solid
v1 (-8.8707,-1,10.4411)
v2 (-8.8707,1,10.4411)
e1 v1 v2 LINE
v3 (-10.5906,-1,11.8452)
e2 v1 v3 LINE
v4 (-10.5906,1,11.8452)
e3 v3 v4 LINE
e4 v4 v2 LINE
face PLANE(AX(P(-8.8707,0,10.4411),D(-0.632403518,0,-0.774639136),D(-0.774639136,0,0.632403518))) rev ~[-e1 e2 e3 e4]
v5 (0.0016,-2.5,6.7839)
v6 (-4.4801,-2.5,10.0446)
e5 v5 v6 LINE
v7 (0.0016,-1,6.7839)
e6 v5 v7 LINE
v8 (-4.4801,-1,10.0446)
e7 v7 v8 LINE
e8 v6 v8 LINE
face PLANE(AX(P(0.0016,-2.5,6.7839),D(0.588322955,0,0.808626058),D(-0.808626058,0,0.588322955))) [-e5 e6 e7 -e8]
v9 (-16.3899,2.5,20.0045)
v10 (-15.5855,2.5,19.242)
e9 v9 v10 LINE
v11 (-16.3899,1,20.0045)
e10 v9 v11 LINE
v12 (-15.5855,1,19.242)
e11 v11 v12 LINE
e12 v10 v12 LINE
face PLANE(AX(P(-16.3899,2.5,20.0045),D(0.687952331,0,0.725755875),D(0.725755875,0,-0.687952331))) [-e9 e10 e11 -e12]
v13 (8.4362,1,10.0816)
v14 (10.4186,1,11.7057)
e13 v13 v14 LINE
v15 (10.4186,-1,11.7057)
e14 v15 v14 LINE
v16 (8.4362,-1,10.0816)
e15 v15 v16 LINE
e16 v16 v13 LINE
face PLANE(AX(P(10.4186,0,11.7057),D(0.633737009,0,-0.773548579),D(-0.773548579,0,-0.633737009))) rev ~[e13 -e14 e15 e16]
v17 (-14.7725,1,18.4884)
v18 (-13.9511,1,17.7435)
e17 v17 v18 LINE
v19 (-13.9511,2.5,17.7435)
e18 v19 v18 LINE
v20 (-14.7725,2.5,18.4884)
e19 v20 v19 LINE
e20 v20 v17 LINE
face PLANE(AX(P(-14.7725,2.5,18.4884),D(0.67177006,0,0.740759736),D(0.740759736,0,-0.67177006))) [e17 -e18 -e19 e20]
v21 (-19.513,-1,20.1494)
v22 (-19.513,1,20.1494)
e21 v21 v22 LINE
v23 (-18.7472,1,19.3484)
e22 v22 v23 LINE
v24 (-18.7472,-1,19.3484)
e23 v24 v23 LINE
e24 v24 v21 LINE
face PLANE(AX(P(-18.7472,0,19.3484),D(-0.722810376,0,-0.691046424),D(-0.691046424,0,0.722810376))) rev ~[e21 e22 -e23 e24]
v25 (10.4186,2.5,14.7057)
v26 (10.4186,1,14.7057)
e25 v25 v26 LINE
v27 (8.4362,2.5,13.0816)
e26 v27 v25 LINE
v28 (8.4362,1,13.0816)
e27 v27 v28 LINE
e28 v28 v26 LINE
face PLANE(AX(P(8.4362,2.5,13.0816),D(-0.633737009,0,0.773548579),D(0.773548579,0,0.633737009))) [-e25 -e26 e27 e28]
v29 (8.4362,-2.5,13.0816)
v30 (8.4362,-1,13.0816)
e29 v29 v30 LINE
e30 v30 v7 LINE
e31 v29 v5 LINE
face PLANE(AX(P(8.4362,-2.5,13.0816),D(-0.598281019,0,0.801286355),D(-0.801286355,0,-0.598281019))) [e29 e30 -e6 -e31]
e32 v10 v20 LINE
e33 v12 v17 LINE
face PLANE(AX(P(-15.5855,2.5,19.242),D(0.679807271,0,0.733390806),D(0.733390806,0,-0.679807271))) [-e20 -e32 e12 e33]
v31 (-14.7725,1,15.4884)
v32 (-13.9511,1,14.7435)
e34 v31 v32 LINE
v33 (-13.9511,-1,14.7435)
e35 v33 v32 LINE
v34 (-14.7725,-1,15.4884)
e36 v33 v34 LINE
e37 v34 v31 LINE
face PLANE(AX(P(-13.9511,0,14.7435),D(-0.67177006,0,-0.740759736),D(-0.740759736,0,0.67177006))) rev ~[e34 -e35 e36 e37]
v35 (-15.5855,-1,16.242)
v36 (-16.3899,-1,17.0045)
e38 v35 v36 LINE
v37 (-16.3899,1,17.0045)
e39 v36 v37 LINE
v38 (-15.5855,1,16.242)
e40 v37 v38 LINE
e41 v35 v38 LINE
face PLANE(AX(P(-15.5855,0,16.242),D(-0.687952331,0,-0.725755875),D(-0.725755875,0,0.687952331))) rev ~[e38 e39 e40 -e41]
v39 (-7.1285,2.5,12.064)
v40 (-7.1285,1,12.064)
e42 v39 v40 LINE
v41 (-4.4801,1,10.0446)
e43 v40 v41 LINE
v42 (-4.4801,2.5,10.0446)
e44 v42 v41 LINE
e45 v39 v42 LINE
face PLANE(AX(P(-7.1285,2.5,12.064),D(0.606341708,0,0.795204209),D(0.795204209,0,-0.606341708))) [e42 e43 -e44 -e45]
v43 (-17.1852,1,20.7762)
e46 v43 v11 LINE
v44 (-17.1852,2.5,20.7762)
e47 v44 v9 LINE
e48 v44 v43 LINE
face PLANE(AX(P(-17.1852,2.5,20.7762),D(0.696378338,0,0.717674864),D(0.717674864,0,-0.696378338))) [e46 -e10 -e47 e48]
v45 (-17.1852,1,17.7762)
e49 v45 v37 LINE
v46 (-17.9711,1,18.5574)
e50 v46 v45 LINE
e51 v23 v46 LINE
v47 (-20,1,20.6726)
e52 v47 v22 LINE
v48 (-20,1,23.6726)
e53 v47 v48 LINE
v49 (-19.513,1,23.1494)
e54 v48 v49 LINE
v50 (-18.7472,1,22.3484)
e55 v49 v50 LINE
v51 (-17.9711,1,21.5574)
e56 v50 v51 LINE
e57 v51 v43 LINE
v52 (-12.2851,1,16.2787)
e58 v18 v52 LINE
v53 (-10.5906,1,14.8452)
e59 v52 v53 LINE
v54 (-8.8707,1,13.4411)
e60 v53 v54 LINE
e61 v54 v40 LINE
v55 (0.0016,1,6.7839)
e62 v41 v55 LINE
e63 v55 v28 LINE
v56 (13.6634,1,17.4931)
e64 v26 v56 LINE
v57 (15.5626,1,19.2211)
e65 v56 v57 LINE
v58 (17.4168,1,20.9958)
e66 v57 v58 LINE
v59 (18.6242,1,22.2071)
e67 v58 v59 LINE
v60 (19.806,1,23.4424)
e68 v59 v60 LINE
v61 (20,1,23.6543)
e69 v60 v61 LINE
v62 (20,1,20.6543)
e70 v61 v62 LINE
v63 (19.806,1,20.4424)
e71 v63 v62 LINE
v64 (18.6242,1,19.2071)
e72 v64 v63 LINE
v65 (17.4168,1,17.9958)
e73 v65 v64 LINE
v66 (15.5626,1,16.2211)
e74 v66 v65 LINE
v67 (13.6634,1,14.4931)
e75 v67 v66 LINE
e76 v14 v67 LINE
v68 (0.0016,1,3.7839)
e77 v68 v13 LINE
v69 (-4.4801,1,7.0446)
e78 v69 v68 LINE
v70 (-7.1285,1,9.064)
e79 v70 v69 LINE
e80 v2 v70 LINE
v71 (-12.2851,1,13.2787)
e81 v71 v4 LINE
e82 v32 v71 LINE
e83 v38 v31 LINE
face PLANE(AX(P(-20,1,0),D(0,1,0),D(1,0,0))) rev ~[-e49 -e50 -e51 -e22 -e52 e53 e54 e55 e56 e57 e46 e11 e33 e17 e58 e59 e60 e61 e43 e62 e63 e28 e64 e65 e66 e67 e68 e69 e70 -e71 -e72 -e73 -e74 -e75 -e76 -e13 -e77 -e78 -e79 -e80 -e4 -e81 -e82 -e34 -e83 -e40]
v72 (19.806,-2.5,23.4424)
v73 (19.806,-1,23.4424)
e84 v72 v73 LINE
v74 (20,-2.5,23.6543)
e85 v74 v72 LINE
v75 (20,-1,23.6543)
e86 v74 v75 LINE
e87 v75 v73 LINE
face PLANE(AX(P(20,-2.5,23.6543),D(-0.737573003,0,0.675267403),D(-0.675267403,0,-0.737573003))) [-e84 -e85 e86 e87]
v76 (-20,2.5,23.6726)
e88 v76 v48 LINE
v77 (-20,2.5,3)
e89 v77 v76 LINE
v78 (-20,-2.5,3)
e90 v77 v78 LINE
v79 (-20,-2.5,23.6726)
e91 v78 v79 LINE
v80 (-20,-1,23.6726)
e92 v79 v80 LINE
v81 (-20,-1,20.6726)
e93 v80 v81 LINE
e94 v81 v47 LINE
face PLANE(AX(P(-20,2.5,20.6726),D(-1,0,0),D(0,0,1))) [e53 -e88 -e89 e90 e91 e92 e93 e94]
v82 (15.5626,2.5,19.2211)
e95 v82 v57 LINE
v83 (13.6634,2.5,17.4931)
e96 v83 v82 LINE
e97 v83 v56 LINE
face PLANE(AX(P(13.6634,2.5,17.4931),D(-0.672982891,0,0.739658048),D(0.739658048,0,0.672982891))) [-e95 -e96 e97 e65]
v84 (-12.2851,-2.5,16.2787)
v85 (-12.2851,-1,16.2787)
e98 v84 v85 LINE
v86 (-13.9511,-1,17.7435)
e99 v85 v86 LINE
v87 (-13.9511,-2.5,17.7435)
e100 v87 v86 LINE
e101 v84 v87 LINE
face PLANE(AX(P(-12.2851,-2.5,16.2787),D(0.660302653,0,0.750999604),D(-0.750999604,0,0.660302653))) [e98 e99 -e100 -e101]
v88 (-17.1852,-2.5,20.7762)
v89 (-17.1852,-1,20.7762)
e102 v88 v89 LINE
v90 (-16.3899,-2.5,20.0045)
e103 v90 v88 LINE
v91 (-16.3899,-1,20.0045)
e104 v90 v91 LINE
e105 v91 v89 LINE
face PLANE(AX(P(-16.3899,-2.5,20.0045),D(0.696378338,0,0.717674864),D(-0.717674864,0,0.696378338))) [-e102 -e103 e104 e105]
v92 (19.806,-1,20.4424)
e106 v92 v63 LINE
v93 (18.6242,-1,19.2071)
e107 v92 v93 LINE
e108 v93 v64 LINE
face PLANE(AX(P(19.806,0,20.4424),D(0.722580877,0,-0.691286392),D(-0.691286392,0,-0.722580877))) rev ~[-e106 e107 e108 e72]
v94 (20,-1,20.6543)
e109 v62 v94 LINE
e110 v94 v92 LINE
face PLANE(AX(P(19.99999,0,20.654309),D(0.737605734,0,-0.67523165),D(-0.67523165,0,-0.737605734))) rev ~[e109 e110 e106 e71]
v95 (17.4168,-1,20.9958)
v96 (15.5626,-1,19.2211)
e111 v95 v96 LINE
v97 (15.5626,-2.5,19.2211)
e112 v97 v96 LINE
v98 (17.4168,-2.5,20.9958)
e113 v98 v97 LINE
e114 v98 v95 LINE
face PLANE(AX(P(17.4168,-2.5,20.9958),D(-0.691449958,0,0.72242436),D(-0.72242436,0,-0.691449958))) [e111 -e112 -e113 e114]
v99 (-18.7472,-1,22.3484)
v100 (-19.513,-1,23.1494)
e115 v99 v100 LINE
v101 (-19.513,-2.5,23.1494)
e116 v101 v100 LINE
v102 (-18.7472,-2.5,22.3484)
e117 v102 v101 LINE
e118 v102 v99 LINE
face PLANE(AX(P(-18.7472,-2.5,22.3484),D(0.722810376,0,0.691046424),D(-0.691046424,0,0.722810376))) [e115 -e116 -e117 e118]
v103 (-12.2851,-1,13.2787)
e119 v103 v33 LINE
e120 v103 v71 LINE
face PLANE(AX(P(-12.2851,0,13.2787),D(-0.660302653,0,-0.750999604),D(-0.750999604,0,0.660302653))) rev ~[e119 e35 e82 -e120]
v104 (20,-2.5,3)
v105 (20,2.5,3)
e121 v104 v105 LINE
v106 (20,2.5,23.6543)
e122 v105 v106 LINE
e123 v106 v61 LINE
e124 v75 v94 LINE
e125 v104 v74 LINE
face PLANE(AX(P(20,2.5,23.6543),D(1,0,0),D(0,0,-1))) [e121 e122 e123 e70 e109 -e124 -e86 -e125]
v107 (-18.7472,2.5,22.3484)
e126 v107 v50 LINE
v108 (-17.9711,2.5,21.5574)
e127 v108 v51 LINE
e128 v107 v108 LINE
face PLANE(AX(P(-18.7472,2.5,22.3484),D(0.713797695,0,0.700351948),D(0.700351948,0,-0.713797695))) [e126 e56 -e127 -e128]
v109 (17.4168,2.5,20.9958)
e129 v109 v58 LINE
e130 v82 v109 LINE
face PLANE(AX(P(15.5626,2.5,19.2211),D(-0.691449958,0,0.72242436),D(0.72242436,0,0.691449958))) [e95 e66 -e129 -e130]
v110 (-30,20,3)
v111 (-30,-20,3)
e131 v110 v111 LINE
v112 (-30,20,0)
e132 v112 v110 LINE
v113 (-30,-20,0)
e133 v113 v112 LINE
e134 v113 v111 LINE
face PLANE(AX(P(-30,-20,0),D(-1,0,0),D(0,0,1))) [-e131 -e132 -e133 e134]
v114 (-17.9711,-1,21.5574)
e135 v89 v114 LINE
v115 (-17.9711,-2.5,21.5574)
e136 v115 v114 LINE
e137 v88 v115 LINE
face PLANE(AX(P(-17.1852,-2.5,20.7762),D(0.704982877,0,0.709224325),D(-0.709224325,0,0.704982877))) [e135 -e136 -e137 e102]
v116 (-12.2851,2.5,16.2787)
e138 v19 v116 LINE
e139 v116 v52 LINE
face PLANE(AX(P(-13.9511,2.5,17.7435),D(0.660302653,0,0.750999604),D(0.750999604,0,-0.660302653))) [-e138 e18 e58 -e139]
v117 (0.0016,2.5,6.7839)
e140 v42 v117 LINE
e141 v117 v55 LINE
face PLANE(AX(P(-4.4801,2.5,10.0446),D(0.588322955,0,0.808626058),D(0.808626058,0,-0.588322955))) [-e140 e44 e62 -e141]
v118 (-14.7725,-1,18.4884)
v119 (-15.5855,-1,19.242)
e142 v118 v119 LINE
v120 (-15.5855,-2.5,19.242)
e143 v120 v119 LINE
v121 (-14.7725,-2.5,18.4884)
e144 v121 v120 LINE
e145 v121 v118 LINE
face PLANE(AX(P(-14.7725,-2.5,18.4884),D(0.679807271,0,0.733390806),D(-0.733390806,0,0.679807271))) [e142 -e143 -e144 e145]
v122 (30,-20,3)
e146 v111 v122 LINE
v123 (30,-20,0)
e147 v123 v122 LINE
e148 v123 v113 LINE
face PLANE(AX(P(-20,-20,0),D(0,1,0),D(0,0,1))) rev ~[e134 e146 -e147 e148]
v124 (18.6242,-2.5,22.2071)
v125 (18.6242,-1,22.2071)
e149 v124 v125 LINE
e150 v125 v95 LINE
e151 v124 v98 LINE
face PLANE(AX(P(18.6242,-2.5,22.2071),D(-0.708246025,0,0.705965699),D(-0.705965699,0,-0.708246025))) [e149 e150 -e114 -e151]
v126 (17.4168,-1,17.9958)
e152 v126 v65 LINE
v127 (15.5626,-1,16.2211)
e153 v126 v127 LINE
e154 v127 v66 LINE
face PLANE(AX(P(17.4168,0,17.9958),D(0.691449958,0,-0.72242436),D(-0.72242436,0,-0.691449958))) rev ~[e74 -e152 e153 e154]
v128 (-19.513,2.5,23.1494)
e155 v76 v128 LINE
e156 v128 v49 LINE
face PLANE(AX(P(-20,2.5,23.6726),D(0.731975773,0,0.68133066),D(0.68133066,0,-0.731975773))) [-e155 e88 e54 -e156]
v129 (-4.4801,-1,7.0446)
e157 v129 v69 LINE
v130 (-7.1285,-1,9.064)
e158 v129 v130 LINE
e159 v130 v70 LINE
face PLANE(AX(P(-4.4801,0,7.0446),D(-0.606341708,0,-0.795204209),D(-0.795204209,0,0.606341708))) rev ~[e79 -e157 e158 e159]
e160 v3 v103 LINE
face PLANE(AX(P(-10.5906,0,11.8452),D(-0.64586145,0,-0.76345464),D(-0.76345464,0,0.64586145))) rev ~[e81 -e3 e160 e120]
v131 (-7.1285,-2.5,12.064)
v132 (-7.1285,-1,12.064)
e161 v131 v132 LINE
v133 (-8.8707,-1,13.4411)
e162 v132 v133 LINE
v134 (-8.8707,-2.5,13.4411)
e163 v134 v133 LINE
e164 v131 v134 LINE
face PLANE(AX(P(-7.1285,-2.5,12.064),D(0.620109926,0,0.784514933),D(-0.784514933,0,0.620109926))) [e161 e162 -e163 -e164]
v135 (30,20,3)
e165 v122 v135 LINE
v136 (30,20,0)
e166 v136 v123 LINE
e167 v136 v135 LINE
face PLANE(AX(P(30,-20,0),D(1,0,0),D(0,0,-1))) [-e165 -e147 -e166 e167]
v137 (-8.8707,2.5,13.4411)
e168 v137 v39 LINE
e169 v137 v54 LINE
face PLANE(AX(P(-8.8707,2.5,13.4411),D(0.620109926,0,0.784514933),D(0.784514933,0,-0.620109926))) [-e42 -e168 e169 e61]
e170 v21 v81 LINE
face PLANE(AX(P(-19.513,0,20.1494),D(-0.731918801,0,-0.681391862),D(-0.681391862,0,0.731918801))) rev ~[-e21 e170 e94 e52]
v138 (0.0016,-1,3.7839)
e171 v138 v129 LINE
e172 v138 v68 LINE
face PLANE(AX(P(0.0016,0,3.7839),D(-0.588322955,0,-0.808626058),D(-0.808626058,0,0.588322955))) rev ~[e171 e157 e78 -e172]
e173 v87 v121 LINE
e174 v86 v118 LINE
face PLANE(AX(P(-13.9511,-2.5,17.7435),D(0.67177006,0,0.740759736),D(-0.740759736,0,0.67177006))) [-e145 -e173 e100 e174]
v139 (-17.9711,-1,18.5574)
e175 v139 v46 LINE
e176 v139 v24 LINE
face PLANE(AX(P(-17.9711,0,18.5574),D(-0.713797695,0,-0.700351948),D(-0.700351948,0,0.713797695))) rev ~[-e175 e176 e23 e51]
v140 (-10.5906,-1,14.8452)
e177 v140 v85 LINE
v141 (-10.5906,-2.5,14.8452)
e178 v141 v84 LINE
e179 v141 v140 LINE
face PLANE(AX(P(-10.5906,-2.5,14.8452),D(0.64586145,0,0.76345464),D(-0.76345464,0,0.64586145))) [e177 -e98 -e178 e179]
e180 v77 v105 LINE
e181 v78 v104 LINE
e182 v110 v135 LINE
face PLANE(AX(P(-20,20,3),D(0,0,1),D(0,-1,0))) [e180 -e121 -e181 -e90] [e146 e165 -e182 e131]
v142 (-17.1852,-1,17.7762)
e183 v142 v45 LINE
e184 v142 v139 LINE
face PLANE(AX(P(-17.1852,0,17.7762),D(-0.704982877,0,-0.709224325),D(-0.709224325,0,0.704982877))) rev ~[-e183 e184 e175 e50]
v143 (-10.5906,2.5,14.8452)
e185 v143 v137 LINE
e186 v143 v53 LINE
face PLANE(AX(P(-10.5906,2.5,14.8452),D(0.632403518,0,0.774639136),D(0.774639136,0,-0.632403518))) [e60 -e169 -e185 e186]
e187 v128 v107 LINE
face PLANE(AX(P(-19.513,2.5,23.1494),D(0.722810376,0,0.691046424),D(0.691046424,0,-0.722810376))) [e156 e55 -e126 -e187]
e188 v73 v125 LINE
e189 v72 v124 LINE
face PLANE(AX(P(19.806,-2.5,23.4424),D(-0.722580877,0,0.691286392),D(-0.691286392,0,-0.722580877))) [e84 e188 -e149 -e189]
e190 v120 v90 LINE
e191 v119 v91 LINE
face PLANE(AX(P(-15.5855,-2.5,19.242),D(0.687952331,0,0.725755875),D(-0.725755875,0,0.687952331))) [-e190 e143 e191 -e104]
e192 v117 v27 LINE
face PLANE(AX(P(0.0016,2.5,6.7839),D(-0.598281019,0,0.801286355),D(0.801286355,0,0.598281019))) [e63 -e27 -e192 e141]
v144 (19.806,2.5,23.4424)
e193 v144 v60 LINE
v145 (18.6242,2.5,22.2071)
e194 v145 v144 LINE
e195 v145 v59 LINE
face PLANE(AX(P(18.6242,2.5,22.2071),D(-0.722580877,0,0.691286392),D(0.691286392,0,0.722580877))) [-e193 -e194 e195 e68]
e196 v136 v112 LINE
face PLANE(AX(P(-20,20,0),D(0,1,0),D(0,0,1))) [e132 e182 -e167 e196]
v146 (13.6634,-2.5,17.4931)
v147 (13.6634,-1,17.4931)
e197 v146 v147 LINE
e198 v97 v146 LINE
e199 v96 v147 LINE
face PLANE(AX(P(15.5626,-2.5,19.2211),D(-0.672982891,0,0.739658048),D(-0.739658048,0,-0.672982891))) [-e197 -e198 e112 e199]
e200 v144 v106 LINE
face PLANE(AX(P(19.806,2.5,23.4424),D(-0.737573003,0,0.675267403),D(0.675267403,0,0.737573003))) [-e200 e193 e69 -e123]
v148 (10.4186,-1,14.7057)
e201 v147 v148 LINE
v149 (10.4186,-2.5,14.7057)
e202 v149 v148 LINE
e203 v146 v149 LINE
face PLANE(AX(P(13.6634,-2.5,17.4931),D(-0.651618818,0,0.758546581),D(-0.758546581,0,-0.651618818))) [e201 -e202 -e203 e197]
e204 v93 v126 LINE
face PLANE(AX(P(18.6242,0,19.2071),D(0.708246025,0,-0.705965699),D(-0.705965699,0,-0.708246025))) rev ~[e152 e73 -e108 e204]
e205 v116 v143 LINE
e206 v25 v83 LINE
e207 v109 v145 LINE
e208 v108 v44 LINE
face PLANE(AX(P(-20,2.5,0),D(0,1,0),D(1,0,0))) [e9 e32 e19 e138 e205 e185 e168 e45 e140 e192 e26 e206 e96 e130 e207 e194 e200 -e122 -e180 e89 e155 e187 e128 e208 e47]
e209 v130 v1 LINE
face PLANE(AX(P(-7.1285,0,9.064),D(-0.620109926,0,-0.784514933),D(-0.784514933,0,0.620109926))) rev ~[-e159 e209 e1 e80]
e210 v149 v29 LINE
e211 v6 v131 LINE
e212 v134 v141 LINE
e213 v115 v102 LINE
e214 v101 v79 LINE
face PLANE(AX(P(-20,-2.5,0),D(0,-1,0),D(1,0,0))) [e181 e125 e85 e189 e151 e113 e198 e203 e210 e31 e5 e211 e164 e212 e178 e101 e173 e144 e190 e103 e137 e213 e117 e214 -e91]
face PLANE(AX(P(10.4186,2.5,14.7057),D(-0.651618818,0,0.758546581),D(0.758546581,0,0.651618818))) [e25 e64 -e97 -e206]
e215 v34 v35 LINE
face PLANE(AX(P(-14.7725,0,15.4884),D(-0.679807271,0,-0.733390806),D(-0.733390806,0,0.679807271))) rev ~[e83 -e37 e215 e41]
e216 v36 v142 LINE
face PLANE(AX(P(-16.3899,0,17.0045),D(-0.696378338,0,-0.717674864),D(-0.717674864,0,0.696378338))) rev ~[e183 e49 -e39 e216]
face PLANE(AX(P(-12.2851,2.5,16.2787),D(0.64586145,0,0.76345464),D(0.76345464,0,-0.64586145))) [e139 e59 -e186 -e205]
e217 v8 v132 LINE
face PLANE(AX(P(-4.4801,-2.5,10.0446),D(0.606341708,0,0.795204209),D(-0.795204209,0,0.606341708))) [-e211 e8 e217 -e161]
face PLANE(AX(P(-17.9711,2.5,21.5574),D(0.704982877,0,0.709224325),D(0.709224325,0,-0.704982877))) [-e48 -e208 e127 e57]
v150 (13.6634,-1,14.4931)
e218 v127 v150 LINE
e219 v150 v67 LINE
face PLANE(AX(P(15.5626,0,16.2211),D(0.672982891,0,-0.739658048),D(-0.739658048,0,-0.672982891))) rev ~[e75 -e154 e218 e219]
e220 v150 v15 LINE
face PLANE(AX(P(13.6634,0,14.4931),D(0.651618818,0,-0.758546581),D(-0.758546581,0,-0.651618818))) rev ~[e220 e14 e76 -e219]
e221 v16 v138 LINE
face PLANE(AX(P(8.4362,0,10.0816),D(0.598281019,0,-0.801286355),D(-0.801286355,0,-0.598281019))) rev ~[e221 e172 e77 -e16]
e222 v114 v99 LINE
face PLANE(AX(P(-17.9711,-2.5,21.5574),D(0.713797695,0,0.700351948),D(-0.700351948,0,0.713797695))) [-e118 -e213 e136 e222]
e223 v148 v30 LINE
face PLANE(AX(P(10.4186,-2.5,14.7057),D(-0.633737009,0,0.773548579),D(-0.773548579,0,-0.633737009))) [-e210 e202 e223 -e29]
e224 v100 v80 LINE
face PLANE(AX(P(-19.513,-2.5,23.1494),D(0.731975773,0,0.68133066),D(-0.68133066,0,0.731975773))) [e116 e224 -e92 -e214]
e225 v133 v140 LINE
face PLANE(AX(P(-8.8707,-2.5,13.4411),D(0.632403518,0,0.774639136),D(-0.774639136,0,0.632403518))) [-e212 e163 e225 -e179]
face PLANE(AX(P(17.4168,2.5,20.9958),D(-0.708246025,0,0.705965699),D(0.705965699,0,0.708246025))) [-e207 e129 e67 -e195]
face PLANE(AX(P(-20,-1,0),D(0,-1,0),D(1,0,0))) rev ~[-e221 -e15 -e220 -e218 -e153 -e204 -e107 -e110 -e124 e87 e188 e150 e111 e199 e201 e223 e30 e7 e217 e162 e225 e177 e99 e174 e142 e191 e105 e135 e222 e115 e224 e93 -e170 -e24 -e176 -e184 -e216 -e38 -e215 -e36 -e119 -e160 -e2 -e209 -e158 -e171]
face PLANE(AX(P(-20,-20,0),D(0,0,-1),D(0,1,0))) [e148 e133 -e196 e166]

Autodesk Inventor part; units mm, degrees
ref_plane "YZ Plane" through (0, 0, 0) normal (1, 0, 0) x (0, 1, 0)
ref_plane "XZ Plane" through (0, 0, 0) normal (0, 1, 0) x (-1, 0, 0)
ref_plane "XY Plane" through (0, 0, 0) normal (0, 0, 1) x (1, 0, 0)
sketch "Sketch1" plane through (0, 0, 0) normal (0, 0, 1) x (1, 0, 0)
  line L0 (-20, -20) -> (20, -20)
  line L1 (20, -20) -> (20, 20)
  line L2 (20, 20) -> (-20, 20)
  line L3 (-20, 20) -> (-20, -20)
  line L4 (-20, -20) -> (20, 20) construction
  line L5 (20, -20) -> (-20, 20) construction
  point P0 (0, 0)
  dimension "d0" = 40
  dimension "d1" = 40
extrude "Extrusion1" add sketch "Sketch1" along normal blind 3
ref_plane "Work Plane1" through (-20, 0, 0) normal (0, -1, 0) x (1, 0, 0)
sketch "Sketch2" plane through (-20, 0, 0) normal (0, -1, 0) x (1, 0, 0)
  line L0 (0, 3) -> (40, 3)
  line L1 (0, 3) -> (40, 3) projected
  line L2 (2.7399, 64.6358) -> (3.1064, 64.6633)
  line L3 (3.1064, 64.6633) -> (5.3254, 64.7366)
  line L4 (5.3254, 64.7366) -> (6.8098, 64.6805)
  line L5 (6.8098, 64.6805) -> (7.9171, 64.5726)
  line L6 (7.9171, 64.5726) -> (9.0137, 64.4014)
  line L7 (9.0137, 64.4014) -> (9.7363, 64.2487)
  line L8 (9.7363, 64.2487) -> (10.4503, 64.0633)
  line L9 (10.4503, 64.0633) -> (11.1543, 63.8429)
  line L10 (11.1543, 63.8429) -> (11.8466, 63.5859)
  line L11 (11.8466, 63.5859) -> (12.5259, 63.2902)
  line L12 (12.5259, 63.2902) -> (13.1906, 62.9542)
  line L13 (13.1906, 62.9542) -> (13.4715, 62.803)
  line L14 (13.4715, 62.803) -> (14.2878, 62.3129)
  line L15 (14.2878, 62.3129) -> (15.32, 61.5828)
  line L16 (15.32, 61.5828) -> (16.5315, 60.5677)
  line L17 (16.5315, 60.5677) -> (20.0008, 56.8714)
  line L18 (20.0008, 56.8714) -> (23.8357, 60.8912)
  line L19 (23.8357, 60.8912) -> (25.2129, 61.9747)
  line L20 (25.2129, 61.9747) -> (26.196, 62.6151)
  line L21 (26.196, 62.6151) -> (26.5392, 62.8162)
  line L22 (26.5392, 62.8162) -> (26.8872, 63.0056)
  line L23 (26.8872, 63.0056) -> (27.2398, 63.1837)
  line L24 (27.2398, 63.1837) -> (27.5967, 63.3505)
  line L25 (27.5967, 63.3505) -> (27.9576, 63.5065)
  line L26 (27.9576, 63.5065) -> (28.6909, 63.787)
  line L27 (28.6909, 63.787) -> (29.4377, 64.0268)
  line L28 (29.4377, 64.0268) -> (30.1962, 64.2283)
  line L29 (30.1962, 64.2283) -> (30.9647, 64.3931)
  line L30 (30.9647, 64.3931) -> (31.7412, 64.5234)
  line L31 (31.7412, 64.5234) -> (32.5239, 64.6211)
  line L32 (32.5239, 64.6211) -> (33.7056, 64.711)
  line L33 (33.7056, 64.711) -> (35.2857, 64.7355)
  line L34 (35.2857, 64.7355) -> (37.2476, 64.6353)
  line L35 (37.2476, 64.6353) -> (37.63, 64.5998)
  line L36 (37.63, 64.5998) -> (38.0105, 64.5528)
  line L37 (38.0105, 64.5528) -> (38.3888, 64.4946)
  line L38 (38.3888, 64.4946) -> (39.1384, 64.3456)
  line L39 (39.1384, 64.3456) -> (39.8773, 64.1541)
  line L40 (39.8773, 64.1541) -> (40.6042, 63.922)
  line L41 (40.6042, 63.922) -> (41.3175, 63.6507)
  line L42 (41.3175, 63.6507) -> (42.016, 63.342)
  line L43 (42.016, 63.342) -> (42.6982, 62.9974)
  line L44 (42.6982, 62.9974) -> (43.3626, 62.6184)
  line L45 (43.3626, 62.6184) -> (44.0079, 62.2069)
  line L46 (44.0079, 62.2069) -> (44.6325, 61.7642)
  line L47 (44.6325, 61.7642) -> (45.2352, 61.2922)
  line L48 (45.2352, 61.2922) -> (45.8145, 60.7922)
  line L49 (45.8145, 60.7922) -> (46.3689, 60.2662)
  line L50 (46.3689, 60.2662) -> (46.8971, 59.7155)
  line L51 (46.8971, 59.7155) -> (47.2127, 59.3682)
  line L52 (47.2127, 59.3682) -> (47.5175, 59.0127)
  line L53 (47.5175, 59.0127) -> (47.8117, 58.6495)
  line L54 (47.8117, 58.6495) -> (48.0953, 58.2789)
  line L55 (48.0953, 58.2789) -> (48.3683, 57.901)
  line L56 (48.3683, 57.901) -> (48.631, 57.5163)
  line L57 (48.631, 57.5163) -> (48.8832, 57.1249)
  line L58 (48.8832, 57.1249) -> (49.1252, 56.7273)
  line L59 (49.1252, 56.7273) -> (49.3571, 56.3236)
  line L60 (49.3571, 56.3236) -> (49.5788, 55.9142)
  line L61 (49.5788, 55.9142) -> (49.7904, 55.4993)
  line L62 (49.7904, 55.4993) -> (50.1842, 54.6545)
  line L63 (50.1842, 54.6545) -> (50.5388, 53.7914)
  line L64 (50.5388, 53.7914) -> (50.8551, 52.9125)
  line L65 (50.8551, 52.9125) -> (51.1337, 52.02)
  line L66 (51.1337, 52.02) -> (51.3753, 51.1164)
  line L67 (51.3753, 51.1164) -> (51.5805, 50.2039)
  line L68 (51.5805, 50.2039) -> (51.75, 49.285)
  line L69 (51.75, 49.285) -> (51.8844, 48.3619)
  line L70 (51.8844, 48.3619) -> (51.9845, 47.437)
  line L71 (51.9845, 47.437) -> (51.9845, 43.3851)
  line L72 (51.9845, 43.3851) -> (51.9243, 42.8006)
  line L73 (51.9243, 42.8006) -> (51.8499, 42.2155)
  line L74 (51.8499, 42.2155) -> (51.7619, 41.6333)
  line L75 (51.7619, 41.6333) -> (51.6607, 41.054)
  line L76 (51.6607, 41.054) -> (51.5466, 40.4777)
  line L77 (51.5466, 40.4777) -> (51.4199, 39.9045)
  line L78 (51.4199, 39.9045) -> (51.2809, 39.3344)
  line L79 (51.2809, 39.3344) -> (51.13, 38.7676)
  line L80 (51.13, 38.7676) -> (50.9673, 38.204)
  line L81 (50.9673, 38.204) -> (50.7934, 37.6437)
  line L82 (50.7934, 37.6437) -> (50.6084, 37.0868)
  line L83 (50.6084, 37.0868) -> (50.2065, 35.9835)
  line L84 (50.2065, 35.9835) -> (49.7643, 34.8947)
  line L85 (49.7643, 34.8947) -> (49.2842, 33.8209)
  line L86 (49.2842, 33.8209) -> (48.7687, 32.7625)
  line L87 (48.7687, 32.7625) -> (48.2203, 31.7202)
  line L88 (48.2203, 31.7202) -> (47.6416, 30.6945)
  line L89 (47.6416, 30.6945) -> (46.7221, 29.1882)
  line L90 (46.7221, 29.1882) -> (45.7483, 27.7223)
  line L91 (45.7483, 27.7223) -> (45.2527, 27.0233)
  line L92 (45.2527, 27.0233) -> (44.7473, 26.3323)
  line L93 (44.7473, 26.3323) -> (44.2325, 25.649)
  line L94 (44.2325, 25.649) -> (43.7084, 24.9733)
  line L95 (43.7084, 24.9733) -> (43.1754, 24.305)
  line L96 (43.1754, 24.305) -> (42.0839, 22.9901)
  line L97 (42.0839, 22.9901) -> (40.96, 21.703)
  line L98 (40.96, 21.703) -> (39.806, 20.4424)
  line L99 (39.806, 20.4424) -> (38.6242, 19.2071)
  line L100 (38.6242, 19.2071) -> (37.4168, 17.9958)
  line L101 (37.4168, 17.9958) -> (35.5626, 16.2211)
  line L102 (35.5626, 16.2211) -> (33.6634, 14.4931)
  line L103 (33.6634, 14.4931) -> (30.4186, 11.7057)
  line L104 (30.4186, 11.7057) -> (28.4362, 10.0816)
  line L105 (28.4362, 10.0816) -> (20.0016, 3.7839)
  line L106 (20.0016, 3.7839) -> (15.5199, 7.0446)
  line L107 (15.5199, 7.0446) -> (12.8715, 9.064)
  line L108 (12.8715, 9.064) -> (11.1293, 10.4411)
  line L109 (11.1293, 10.4411) -> (9.4094, 11.8452)
  line L110 (9.4094, 11.8452) -> (7.7149, 13.2787)
  line L111 (7.7149, 13.2787) -> (6.0489, 14.7435)
  line L112 (6.0489, 14.7435) -> (5.2275, 15.4884)
  line L113 (5.2275, 15.4884) -> (4.4145, 16.242)
  line L114 (4.4145, 16.242) -> (3.6101, 17.0045)
  line L115 (3.6101, 17.0045) -> (2.8148, 17.7762)
  line L116 (2.8148, 17.7762) -> (2.0289, 18.5574)
  line L117 (2.0289, 18.5574) -> (1.2528, 19.3484)
  line L118 (1.2528, 19.3484) -> (0.487, 20.1494)
  line L119 (0.487, 20.1494) -> (-0.2682, 20.9606)
  line L120 (-0.2682, 20.9606) -> (-1.0124, 21.7824)
  line L121 (-1.0124, 21.7824) -> (-1.7452, 22.6151)
  line L122 (-1.7452, 22.6151) -> (-2.4663, 23.4588)
  line L123 (-2.4663, 23.4588) -> (-3.1752, 24.3139)
  line L124 (-3.1752, 24.3139) -> (-3.8715, 25.1807)
  line L125 (-3.8715, 25.1807) -> (-4.7177, 26.2914)
  line L126 (-4.7177, 26.2914) -> (-5.5375, 27.4273)
  line L127 (-5.5375, 27.4273) -> (-6.3273, 28.5876)
  line L128 (-6.3273, 28.5876) -> (-7.0831, 29.7717)
  line L129 (-7.0831, 29.7717) -> (-7.4472, 30.3726)
  line L130 (-7.4472, 30.3726) -> (-7.8013, 30.9792)
  line L131 (-7.8013, 30.9792) -> (-8.1451, 31.5915)
  line L132 (-8.1451, 31.5915) -> (-8.4779, 32.2094)
  line L133 (-8.4779, 32.2094) -> (-8.7995, 32.8328)
  line L134 (-8.7995, 32.8328) -> (-9.1093, 33.4617)
  line L135 (-9.1093, 33.4617) -> (-9.4067, 34.096)
  line L136 (-9.4067, 34.096) -> (-9.6915, 34.7356)
  line L137 (-9.6915, 34.7356) -> (-9.9629, 35.3804)
  line L138 (-9.9629, 35.3804) -> (-10.2207, 36.0305)
  line L139 (-10.2207, 36.0305) -> (-10.4643, 36.6856)
  line L140 (-10.4643, 36.6856) -> (-10.6932, 37.3458)
  line L141 (-10.6932, 37.3458) -> (-10.907, 38.0109)
  line L142 (-10.907, 38.0109) -> (-11.1052, 38.6809)
  line L143 (-11.1052, 38.6809) -> (-11.2872, 39.3557)
  line L144 (-11.2872, 39.3557) -> (-11.4527, 40.0352)
  line L145 (-11.4527, 40.0352) -> (-11.6012, 40.7195)
  line L146 (-11.6012, 40.7195) -> (-11.7322, 41.4083)
  line L147 (-11.7322, 41.4083) -> (-11.8451, 42.1017)
  line L148 (-11.8451, 42.1017) -> (-11.9396, 42.7995)
  line L149 (-11.9396, 42.7995) -> (-12.0151, 43.5017)
  line L150 (-12.0151, 43.5017) -> (-12.0151, 47.195)
  line L151 (-12.0151, 47.195) -> (-11.8821, 48.423)
  line L152 (-11.8821, 48.423) -> (-11.6913, 49.646)
  line L153 (-11.6913, 49.646) -> (-11.4406, 50.8589)
  line L154 (-11.4406, 50.8589) -> (-11.1277, 52.0567)
  line L155 (-11.1277, 52.0567) -> (-10.7505, 53.2347)
  line L156 (-10.7505, 53.2347) -> (-10.4622, 54.0065)
  line L157 (-10.4622, 54.0065) -> (-10.1438, 54.7658)
  line L158 (-10.1438, 54.7658) -> (-9.7945, 55.511)
  line L159 (-9.7945, 55.511) -> (-9.4137, 56.2409)
  line L160 (-9.4137, 56.2409) -> (-9.0008, 56.9538)
  line L161 (-9.0008, 56.9538) -> (-8.5551, 57.6483)
  line L162 (-8.5551, 57.6483) -> (-8.076, 58.323)
  line L163 (-8.076, 58.323) -> (-7.807, 58.6753)
  line L164 (-7.807, 58.6753) -> (-7.5285, 59.0209)
  line L165 (-7.5285, 59.0209) -> (-7.2406, 59.3595)
  line L166 (-7.2406, 59.3595) -> (-6.9435, 59.6908)
  line L167 (-6.9435, 59.6908) -> (-6.6375, 60.0145)
  line L168 (-6.6375, 60.0145) -> (-6.3229, 60.3303)
  line L169 (-6.3229, 60.3303) -> (-5.9999, 60.6377)
  line L170 (-5.9999, 60.6377) -> (-5.6688, 60.9366)
  line L171 (-5.6688, 60.9366) -> (-5.3297, 61.2265)
  line L172 (-5.3297, 61.2265) -> (-4.9829, 61.5071)
  line L173 (-4.9829, 61.5071) -> (-4.6287, 61.7781)
  line L174 (-4.6287, 61.7781) -> (-4.2674, 62.0391)
  line L175 (-4.2674, 62.0391) -> (-3.8989, 62.2899)
  line L176 (-3.8989, 62.2899) -> (-3.5239, 62.5301)
  line L177 (-3.5239, 62.5301) -> (-3.1425, 62.7594)
  line L178 (-3.1425, 62.7594) -> (-2.7548, 62.9773)
  line L179 (-2.7548, 62.9773) -> (-2.3611, 63.1837)
  line L180 (-2.3611, 63.1837) -> (-1.9617, 63.3782)
  line L181 (-1.9617, 63.3782) -> (-1.5569, 63.5603)
  line L182 (-1.5569, 63.5603) -> (-1.1468, 63.73)
  line L183 (-1.1468, 63.73) -> (-0.7316, 63.8867)
  line L184 (-0.7316, 63.8867) -> (-0.3117, 64.0302)
  line L185 (-0.3117, 64.0302) -> (0.1126, 64.16)
  line L186 (0.1126, 64.16) -> (0.5413, 64.276)
  line L187 (0.5413, 64.276) -> (0.9739, 64.3778)
  line L188 (0.9739, 64.3778) -> (1.4104, 64.465)
  line L189 (1.4104, 64.465) -> (1.8503, 64.5372)
  line L190 (1.8503, 64.5372) -> (2.2936, 64.5943)
  line L191 (2.2936, 64.5943) -> (2.7399, 64.6358)
  line L192 (0, 3) -> (0, 20.6726)
  line L193 (40, 0) -> (40, 3) projected
  line L194 (40, 3) -> (40, 20.6543)
  point P0 (20, 0)
  dimension "d0" = 40
extrude "Extrusion2" add sketch "Sketch2" along normal mid plane 5 contours L192 L119 L118 L117 L116 L115 L114 L113 L112 L111 L110 L109 L108 L107 L106 L105 L104 L103 L102 L101 L100 L99 L98 L194 L0
sketch "Sketch3" plane through (0, 0, 3) normal (0, 0, 1) x (1, 0, 0)
  point P0 (0, 0)
sketch "Sketch4" plane through (-20, -2.5, 0) normal (0, -1, 0) x (1, 0, 0)
  line L0 (0.487, 20.1494) -> (0, 20.6726) projected
  line L1 (1.2528, 19.3484) -> (0.487, 20.1494) projected
  line L2 (2.0289, 18.5574) -> (1.2528, 19.3484) projected
  line L3 (2.8148, 17.7762) -> (2.0289, 18.5574) projected
  line L4 (3.6101, 17.0045) -> (2.8148, 17.7762) projected
  line L5 (4.4145, 16.242) -> (3.6101, 17.0045) projected
  line L6 (5.2275, 15.4884) -> (4.4145, 16.242) projected
  line L7 (6.0489, 14.7435) -> (5.2275, 15.4884) projected
  line L8 (7.7149, 13.2787) -> (6.0489, 14.7435) projected
  line L9 (9.4094, 11.8452) -> (7.7149, 13.2787) projected
  line L10 (11.1293, 10.4411) -> (9.4094, 11.8452) projected
  line L11 (12.8715, 9.064) -> (11.1293, 10.4411) projected
  line L12 (15.5199, 7.0446) -> (12.8715, 9.064) projected
  line L13 (40, 3) -> (0, 3) projected
  line L14 (40, 3) -> (40, 20.6543) projected
  line L15 (40, 20.6543) -> (39.806, 20.4424) projected
  line L16 (39.806, 20.4424) -> (38.6242, 19.2071) projected
  line L17 (38.6242, 19.2071) -> (37.4168, 17.9958) projected
  line L18 (37.4168, 17.9958) -> (35.5626, 16.2211) projected
  line L19 (35.5626, 16.2211) -> (33.6634, 14.4931) projected
  line L20 (33.6634, 14.4931) -> (30.4186, 11.7057) projected
  line L21 (30.4186, 11.7057) -> (28.4362, 10.0816) projected
  line L22 (28.4362, 10.0816) -> (20.0016, 3.7839) projected
  line L23 (20.0016, 3.7839) -> (15.5199, 7.0446) projected
  line L24 (15.5199, 7.0446) -> (12.8715, 9.064) projected
  line L25 (12.8715, 9.064) -> (11.1293, 10.4411) projected
  line L26 (11.1293, 10.4411) -> (9.4094, 11.8452) projected
  line L27 (9.4094, 11.8452) -> (7.7149, 13.2787) projected
  line L28 (7.7149, 13.2787) -> (6.0489, 14.7435) projected
  line L29 (6.0489, 14.7435) -> (5.2275, 15.4884) projected
  line L30 (5.2275, 15.4884) -> (4.4145, 16.242) projected
  line L31 (4.4145, 16.242) -> (3.6101, 17.0045) projected
  line L32 (3.6101, 17.0045) -> (2.8148, 17.7762) projected
  line L33 (2.8148, 17.7762) -> (2.0289, 18.5574) projected
  line L34 (2.0289, 18.5574) -> (1.2528, 19.3484) projected
  line L35 (1.2528, 19.3484) -> (0.487, 20.1494) projected
  line L36 (0.487, 20.1494) -> (0, 20.6726) projected
  line L37 (0, 20.6726) -> (0, 3) projected
  line L38 (28.4362, 10.0816) -> (20.0016, 3.7839) projected
  line L39 (20.0016, 3.7839) -> (40.0016, 3.7839) construction
  line L40 (0.487, 23.1494) -> (0, 23.6726)
  line L41 (1.2528, 22.3484) -> (0.487, 23.1494)
  line L42 (2.0289, 21.5574) -> (1.2528, 22.3484)
  line L43 (2.8148, 20.7762) -> (2.0289, 21.5574)
  line L44 (3.6101, 20.0045) -> (2.8148, 20.7762)
  line L45 (4.4145, 19.242) -> (3.6101, 20.0045)
  line L46 (5.2275, 18.4884) -> (4.4145, 19.242)
  line L47 (6.0489, 17.7435) -> (5.2275, 18.4884)
  line L48 (7.7149, 16.2787) -> (6.0489, 17.7435)
  line L49 (9.4094, 14.8452) -> (7.7149, 16.2787)
  line L50 (11.1293, 13.4411) -> (9.4094, 14.8452)
  line L51 (12.8715, 12.064) -> (11.1293, 13.4411)
  line L52 (15.5199, 10.0446) -> (12.8715, 12.064)
  line L53 (40, 23.6543) -> (39.806, 23.4424)
  line L54 (39.806, 23.4424) -> (38.6242, 22.2071)
  line L55 (38.6242, 22.2071) -> (37.4168, 20.9958)
  line L56 (37.4168, 20.9958) -> (35.5626, 19.2211)
  line L57 (35.5626, 19.2211) -> (33.6634, 17.4931)
  line L58 (33.6634, 17.4931) -> (30.4186, 14.7057)
  line L59 (30.4186, 14.7057) -> (28.4362, 13.0816)
  line L60 (28.4362, 13.0816) -> (20.0016, 6.7839)
  line L61 (20.0016, 6.7839) -> (15.5199, 10.0446)
  line L62 (15.5199, 10.0446) -> (12.8715, 12.064)
  line L63 (12.8715, 12.064) -> (11.1293, 13.4411)
  line L64 (11.1293, 13.4411) -> (9.4094, 14.8452)
  line L65 (9.4094, 14.8452) -> (7.7149, 16.2787)
  line L66 (7.7149, 16.2787) -> (6.0489, 17.7435)
  line L67 (6.0489, 17.7435) -> (5.2275, 18.4884)
  line L68 (5.2275, 18.4884) -> (4.4145, 19.242)
  line L69 (4.4145, 19.242) -> (3.6101, 20.0045)
  line L70 (3.6101, 20.0045) -> (2.8148, 20.7762)
  line L71 (2.8148, 20.7762) -> (2.0289, 21.5574)
  line L72 (2.0289, 21.5574) -> (1.2528, 22.3484)
  line L73 (1.2528, 22.3484) -> (0.487, 23.1494)
  line L74 (0.487, 23.1494) -> (0, 23.6726)
  line L75 (28.4362, 13.0816) -> (20.0016, 6.7839)
  line L76 (20.0016, 6.7839) -> (40.0016, 6.7839) construction
  line L77 (20.0016, 3.7839) -> (20.0016, 6.7839)
  line L78 (0, 23.6726) -> (0, 20.6726)
  line L79 (40, 23.6543) -> (40, 20.6543)
  point P0 (20, 0)
  dimension "d15" = 3
extrude "Extrusion3" add sketch "Sketch4" against normal blind 1.5 contours L0 L78 L40 L41 L42 L43 L44 L45 L46 L47 L48 L49 L50 L51 L52 L61 L77 L23 L12 L11 L10 L9 L8 L7 L6 L5 L4 L3 L2 L1 | L15 L16 L17 L18 L19 L20 L21 L22 L77 L60 L59 L58 L57 L56 L55 L54 L53 L79
sketch "Sketch5" plane through (-20, 2.5, 0) normal (0, 1, 0) x (1, 0, 0)
  line L0 (40, -23.6543) -> (40, -20.6543) projected
  line L1 (39.806, -20.4424) -> (40, -20.6543) projected
  line L2 (38.6242, -19.2071) -> (39.806, -20.4424) projected
  line L3 (37.4168, -17.9958) -> (38.6242, -19.2071) projected
  line L4 (35.5626, -16.2211) -> (37.4168, -17.9958) projected
  line L5 (33.6634, -14.4931) -> (35.5626, -16.2211) projected
  line L6 (30.4186, -11.7057) -> (33.6634, -14.4931) projected
  line L7 (28.4362, -10.0816) -> (30.4186, -11.7057) projected
  line L8 (20.0016, -3.7839) -> (28.4362, -10.0816) projected
  line L9 (15.5199, -7.0446) -> (20.0016, -3.7839) projected
  line L10 (12.8715, -9.064) -> (15.5199, -7.0446) projected
  line L11 (11.1293, -10.4411) -> (12.8715, -9.064) projected
  line L12 (9.4094, -11.8452) -> (11.1293, -10.4411) projected
  line L13 (7.7149, -13.2787) -> (9.4094, -11.8452) projected
  line L14 (6.0489, -14.7435) -> (7.7149, -13.2787) projected
  line L15 (5.2275, -15.4884) -> (6.0489, -14.7435) projected
  line L16 (4.4145, -16.242) -> (5.2275, -15.4884) projected
  line L17 (3.6101, -17.0045) -> (4.4145, -16.242) projected
  line L18 (2.8148, -17.7762) -> (3.6101, -17.0045) projected
  line L19 (2.0289, -18.5574) -> (2.8148, -17.7762) projected
  line L20 (1.2528, -19.3484) -> (2.0289, -18.5574) projected
  line L21 (0.487, -20.1494) -> (1.2528, -19.3484) projected
  line L22 (0, -20.6726) -> (0.487, -20.1494) projected
  line L23 (0, -20.6726) -> (0, -23.6726) projected
  line L24 (0, -23.6726) -> (0.487, -23.1494) projected
  line L25 (0.487, -23.1494) -> (1.2528, -22.3484) projected
  line L26 (1.2528, -22.3484) -> (2.0289, -21.5574) projected
  line L27 (2.0289, -21.5574) -> (2.8148, -20.7762) projected
  line L28 (2.8148, -20.7762) -> (3.6101, -20.0045) projected
  line L29 (3.6101, -20.0045) -> (4.4145, -19.242) projected
  line L30 (4.4145, -19.242) -> (5.2275, -18.4884) projected
  line L31 (5.2275, -18.4884) -> (6.0489, -17.7435) projected
  line L32 (6.0489, -17.7435) -> (7.7149, -16.2787) projected
  line L33 (7.7149, -16.2787) -> (9.4094, -14.8452) projected
  line L34 (9.4094, -14.8452) -> (11.1293, -13.4411) projected
  line L35 (11.1293, -13.4411) -> (12.8715, -12.064) projected
  line L36 (12.8715, -12.064) -> (15.5199, -10.0446) projected
  line L37 (15.5199, -10.0446) -> (20.0016, -6.7839) projected
  line L38 (20.0016, -6.7839) -> (28.4362, -13.0816) projected
  line L39 (28.4362, -13.0816) -> (30.4186, -14.7057) projected
  line L40 (30.4186, -14.7057) -> (33.6634, -17.4931) projected
  line L41 (33.6634, -17.4931) -> (35.5626, -19.2211) projected
  line L42 (35.5626, -19.2211) -> (37.4168, -20.9958) projected
  line L43 (37.4168, -20.9958) -> (38.6242, -22.2071) projected
  line L44 (38.6242, -22.2071) -> (39.806, -23.4424) projected
  line L45 (39.806, -23.4424) -> (40, -23.6543) projected
  point P0 (20, 0)
extrude "Extrusion4" add sketch "Sketch5" against normal blind 1.5
sketch "Sketch6" plane through (20, -20, 0) normal (1, 0, 0) x (0, 0, -1)
  line L0 (-3, 17.5) -> (-3, 0) projected
  line L1 (-3, 0) -> (-3, 40)
  line L2 (0, 40) -> (-3, 40) projected
  line L3 (-3, 40) -> (0, 40)
  line L4 (0, 40) -> (0, 0)
  line L5 (0, 0) -> (-3, 0)
  point P0 (0, 20)
extrude "Extrusion5" add sketch "Sketch6" along normal blind 10
sketch "Sketch7" plane through (-20, -20, 0) normal (-1, 0, 0) x (0, 0, 1)
  line L0 (0, 40) -> (3, 40) projected
  line L1 (3, 17.5) -> (3, 0) projected
  line L2 (3, 40) -> (3, 0)
  line L3 (0, 0) -> (3, 0) projected
  line L4 (3, 0) -> (0, 0)
  line L5 (0, 0) -> (0, 40)
  line L6 (0, 40) -> (3, 40)
  point P0 (0, 20)
extrude "Extrusion6" add sketch "Sketch7" along normal blind 10
properties part number "Supporto2"
